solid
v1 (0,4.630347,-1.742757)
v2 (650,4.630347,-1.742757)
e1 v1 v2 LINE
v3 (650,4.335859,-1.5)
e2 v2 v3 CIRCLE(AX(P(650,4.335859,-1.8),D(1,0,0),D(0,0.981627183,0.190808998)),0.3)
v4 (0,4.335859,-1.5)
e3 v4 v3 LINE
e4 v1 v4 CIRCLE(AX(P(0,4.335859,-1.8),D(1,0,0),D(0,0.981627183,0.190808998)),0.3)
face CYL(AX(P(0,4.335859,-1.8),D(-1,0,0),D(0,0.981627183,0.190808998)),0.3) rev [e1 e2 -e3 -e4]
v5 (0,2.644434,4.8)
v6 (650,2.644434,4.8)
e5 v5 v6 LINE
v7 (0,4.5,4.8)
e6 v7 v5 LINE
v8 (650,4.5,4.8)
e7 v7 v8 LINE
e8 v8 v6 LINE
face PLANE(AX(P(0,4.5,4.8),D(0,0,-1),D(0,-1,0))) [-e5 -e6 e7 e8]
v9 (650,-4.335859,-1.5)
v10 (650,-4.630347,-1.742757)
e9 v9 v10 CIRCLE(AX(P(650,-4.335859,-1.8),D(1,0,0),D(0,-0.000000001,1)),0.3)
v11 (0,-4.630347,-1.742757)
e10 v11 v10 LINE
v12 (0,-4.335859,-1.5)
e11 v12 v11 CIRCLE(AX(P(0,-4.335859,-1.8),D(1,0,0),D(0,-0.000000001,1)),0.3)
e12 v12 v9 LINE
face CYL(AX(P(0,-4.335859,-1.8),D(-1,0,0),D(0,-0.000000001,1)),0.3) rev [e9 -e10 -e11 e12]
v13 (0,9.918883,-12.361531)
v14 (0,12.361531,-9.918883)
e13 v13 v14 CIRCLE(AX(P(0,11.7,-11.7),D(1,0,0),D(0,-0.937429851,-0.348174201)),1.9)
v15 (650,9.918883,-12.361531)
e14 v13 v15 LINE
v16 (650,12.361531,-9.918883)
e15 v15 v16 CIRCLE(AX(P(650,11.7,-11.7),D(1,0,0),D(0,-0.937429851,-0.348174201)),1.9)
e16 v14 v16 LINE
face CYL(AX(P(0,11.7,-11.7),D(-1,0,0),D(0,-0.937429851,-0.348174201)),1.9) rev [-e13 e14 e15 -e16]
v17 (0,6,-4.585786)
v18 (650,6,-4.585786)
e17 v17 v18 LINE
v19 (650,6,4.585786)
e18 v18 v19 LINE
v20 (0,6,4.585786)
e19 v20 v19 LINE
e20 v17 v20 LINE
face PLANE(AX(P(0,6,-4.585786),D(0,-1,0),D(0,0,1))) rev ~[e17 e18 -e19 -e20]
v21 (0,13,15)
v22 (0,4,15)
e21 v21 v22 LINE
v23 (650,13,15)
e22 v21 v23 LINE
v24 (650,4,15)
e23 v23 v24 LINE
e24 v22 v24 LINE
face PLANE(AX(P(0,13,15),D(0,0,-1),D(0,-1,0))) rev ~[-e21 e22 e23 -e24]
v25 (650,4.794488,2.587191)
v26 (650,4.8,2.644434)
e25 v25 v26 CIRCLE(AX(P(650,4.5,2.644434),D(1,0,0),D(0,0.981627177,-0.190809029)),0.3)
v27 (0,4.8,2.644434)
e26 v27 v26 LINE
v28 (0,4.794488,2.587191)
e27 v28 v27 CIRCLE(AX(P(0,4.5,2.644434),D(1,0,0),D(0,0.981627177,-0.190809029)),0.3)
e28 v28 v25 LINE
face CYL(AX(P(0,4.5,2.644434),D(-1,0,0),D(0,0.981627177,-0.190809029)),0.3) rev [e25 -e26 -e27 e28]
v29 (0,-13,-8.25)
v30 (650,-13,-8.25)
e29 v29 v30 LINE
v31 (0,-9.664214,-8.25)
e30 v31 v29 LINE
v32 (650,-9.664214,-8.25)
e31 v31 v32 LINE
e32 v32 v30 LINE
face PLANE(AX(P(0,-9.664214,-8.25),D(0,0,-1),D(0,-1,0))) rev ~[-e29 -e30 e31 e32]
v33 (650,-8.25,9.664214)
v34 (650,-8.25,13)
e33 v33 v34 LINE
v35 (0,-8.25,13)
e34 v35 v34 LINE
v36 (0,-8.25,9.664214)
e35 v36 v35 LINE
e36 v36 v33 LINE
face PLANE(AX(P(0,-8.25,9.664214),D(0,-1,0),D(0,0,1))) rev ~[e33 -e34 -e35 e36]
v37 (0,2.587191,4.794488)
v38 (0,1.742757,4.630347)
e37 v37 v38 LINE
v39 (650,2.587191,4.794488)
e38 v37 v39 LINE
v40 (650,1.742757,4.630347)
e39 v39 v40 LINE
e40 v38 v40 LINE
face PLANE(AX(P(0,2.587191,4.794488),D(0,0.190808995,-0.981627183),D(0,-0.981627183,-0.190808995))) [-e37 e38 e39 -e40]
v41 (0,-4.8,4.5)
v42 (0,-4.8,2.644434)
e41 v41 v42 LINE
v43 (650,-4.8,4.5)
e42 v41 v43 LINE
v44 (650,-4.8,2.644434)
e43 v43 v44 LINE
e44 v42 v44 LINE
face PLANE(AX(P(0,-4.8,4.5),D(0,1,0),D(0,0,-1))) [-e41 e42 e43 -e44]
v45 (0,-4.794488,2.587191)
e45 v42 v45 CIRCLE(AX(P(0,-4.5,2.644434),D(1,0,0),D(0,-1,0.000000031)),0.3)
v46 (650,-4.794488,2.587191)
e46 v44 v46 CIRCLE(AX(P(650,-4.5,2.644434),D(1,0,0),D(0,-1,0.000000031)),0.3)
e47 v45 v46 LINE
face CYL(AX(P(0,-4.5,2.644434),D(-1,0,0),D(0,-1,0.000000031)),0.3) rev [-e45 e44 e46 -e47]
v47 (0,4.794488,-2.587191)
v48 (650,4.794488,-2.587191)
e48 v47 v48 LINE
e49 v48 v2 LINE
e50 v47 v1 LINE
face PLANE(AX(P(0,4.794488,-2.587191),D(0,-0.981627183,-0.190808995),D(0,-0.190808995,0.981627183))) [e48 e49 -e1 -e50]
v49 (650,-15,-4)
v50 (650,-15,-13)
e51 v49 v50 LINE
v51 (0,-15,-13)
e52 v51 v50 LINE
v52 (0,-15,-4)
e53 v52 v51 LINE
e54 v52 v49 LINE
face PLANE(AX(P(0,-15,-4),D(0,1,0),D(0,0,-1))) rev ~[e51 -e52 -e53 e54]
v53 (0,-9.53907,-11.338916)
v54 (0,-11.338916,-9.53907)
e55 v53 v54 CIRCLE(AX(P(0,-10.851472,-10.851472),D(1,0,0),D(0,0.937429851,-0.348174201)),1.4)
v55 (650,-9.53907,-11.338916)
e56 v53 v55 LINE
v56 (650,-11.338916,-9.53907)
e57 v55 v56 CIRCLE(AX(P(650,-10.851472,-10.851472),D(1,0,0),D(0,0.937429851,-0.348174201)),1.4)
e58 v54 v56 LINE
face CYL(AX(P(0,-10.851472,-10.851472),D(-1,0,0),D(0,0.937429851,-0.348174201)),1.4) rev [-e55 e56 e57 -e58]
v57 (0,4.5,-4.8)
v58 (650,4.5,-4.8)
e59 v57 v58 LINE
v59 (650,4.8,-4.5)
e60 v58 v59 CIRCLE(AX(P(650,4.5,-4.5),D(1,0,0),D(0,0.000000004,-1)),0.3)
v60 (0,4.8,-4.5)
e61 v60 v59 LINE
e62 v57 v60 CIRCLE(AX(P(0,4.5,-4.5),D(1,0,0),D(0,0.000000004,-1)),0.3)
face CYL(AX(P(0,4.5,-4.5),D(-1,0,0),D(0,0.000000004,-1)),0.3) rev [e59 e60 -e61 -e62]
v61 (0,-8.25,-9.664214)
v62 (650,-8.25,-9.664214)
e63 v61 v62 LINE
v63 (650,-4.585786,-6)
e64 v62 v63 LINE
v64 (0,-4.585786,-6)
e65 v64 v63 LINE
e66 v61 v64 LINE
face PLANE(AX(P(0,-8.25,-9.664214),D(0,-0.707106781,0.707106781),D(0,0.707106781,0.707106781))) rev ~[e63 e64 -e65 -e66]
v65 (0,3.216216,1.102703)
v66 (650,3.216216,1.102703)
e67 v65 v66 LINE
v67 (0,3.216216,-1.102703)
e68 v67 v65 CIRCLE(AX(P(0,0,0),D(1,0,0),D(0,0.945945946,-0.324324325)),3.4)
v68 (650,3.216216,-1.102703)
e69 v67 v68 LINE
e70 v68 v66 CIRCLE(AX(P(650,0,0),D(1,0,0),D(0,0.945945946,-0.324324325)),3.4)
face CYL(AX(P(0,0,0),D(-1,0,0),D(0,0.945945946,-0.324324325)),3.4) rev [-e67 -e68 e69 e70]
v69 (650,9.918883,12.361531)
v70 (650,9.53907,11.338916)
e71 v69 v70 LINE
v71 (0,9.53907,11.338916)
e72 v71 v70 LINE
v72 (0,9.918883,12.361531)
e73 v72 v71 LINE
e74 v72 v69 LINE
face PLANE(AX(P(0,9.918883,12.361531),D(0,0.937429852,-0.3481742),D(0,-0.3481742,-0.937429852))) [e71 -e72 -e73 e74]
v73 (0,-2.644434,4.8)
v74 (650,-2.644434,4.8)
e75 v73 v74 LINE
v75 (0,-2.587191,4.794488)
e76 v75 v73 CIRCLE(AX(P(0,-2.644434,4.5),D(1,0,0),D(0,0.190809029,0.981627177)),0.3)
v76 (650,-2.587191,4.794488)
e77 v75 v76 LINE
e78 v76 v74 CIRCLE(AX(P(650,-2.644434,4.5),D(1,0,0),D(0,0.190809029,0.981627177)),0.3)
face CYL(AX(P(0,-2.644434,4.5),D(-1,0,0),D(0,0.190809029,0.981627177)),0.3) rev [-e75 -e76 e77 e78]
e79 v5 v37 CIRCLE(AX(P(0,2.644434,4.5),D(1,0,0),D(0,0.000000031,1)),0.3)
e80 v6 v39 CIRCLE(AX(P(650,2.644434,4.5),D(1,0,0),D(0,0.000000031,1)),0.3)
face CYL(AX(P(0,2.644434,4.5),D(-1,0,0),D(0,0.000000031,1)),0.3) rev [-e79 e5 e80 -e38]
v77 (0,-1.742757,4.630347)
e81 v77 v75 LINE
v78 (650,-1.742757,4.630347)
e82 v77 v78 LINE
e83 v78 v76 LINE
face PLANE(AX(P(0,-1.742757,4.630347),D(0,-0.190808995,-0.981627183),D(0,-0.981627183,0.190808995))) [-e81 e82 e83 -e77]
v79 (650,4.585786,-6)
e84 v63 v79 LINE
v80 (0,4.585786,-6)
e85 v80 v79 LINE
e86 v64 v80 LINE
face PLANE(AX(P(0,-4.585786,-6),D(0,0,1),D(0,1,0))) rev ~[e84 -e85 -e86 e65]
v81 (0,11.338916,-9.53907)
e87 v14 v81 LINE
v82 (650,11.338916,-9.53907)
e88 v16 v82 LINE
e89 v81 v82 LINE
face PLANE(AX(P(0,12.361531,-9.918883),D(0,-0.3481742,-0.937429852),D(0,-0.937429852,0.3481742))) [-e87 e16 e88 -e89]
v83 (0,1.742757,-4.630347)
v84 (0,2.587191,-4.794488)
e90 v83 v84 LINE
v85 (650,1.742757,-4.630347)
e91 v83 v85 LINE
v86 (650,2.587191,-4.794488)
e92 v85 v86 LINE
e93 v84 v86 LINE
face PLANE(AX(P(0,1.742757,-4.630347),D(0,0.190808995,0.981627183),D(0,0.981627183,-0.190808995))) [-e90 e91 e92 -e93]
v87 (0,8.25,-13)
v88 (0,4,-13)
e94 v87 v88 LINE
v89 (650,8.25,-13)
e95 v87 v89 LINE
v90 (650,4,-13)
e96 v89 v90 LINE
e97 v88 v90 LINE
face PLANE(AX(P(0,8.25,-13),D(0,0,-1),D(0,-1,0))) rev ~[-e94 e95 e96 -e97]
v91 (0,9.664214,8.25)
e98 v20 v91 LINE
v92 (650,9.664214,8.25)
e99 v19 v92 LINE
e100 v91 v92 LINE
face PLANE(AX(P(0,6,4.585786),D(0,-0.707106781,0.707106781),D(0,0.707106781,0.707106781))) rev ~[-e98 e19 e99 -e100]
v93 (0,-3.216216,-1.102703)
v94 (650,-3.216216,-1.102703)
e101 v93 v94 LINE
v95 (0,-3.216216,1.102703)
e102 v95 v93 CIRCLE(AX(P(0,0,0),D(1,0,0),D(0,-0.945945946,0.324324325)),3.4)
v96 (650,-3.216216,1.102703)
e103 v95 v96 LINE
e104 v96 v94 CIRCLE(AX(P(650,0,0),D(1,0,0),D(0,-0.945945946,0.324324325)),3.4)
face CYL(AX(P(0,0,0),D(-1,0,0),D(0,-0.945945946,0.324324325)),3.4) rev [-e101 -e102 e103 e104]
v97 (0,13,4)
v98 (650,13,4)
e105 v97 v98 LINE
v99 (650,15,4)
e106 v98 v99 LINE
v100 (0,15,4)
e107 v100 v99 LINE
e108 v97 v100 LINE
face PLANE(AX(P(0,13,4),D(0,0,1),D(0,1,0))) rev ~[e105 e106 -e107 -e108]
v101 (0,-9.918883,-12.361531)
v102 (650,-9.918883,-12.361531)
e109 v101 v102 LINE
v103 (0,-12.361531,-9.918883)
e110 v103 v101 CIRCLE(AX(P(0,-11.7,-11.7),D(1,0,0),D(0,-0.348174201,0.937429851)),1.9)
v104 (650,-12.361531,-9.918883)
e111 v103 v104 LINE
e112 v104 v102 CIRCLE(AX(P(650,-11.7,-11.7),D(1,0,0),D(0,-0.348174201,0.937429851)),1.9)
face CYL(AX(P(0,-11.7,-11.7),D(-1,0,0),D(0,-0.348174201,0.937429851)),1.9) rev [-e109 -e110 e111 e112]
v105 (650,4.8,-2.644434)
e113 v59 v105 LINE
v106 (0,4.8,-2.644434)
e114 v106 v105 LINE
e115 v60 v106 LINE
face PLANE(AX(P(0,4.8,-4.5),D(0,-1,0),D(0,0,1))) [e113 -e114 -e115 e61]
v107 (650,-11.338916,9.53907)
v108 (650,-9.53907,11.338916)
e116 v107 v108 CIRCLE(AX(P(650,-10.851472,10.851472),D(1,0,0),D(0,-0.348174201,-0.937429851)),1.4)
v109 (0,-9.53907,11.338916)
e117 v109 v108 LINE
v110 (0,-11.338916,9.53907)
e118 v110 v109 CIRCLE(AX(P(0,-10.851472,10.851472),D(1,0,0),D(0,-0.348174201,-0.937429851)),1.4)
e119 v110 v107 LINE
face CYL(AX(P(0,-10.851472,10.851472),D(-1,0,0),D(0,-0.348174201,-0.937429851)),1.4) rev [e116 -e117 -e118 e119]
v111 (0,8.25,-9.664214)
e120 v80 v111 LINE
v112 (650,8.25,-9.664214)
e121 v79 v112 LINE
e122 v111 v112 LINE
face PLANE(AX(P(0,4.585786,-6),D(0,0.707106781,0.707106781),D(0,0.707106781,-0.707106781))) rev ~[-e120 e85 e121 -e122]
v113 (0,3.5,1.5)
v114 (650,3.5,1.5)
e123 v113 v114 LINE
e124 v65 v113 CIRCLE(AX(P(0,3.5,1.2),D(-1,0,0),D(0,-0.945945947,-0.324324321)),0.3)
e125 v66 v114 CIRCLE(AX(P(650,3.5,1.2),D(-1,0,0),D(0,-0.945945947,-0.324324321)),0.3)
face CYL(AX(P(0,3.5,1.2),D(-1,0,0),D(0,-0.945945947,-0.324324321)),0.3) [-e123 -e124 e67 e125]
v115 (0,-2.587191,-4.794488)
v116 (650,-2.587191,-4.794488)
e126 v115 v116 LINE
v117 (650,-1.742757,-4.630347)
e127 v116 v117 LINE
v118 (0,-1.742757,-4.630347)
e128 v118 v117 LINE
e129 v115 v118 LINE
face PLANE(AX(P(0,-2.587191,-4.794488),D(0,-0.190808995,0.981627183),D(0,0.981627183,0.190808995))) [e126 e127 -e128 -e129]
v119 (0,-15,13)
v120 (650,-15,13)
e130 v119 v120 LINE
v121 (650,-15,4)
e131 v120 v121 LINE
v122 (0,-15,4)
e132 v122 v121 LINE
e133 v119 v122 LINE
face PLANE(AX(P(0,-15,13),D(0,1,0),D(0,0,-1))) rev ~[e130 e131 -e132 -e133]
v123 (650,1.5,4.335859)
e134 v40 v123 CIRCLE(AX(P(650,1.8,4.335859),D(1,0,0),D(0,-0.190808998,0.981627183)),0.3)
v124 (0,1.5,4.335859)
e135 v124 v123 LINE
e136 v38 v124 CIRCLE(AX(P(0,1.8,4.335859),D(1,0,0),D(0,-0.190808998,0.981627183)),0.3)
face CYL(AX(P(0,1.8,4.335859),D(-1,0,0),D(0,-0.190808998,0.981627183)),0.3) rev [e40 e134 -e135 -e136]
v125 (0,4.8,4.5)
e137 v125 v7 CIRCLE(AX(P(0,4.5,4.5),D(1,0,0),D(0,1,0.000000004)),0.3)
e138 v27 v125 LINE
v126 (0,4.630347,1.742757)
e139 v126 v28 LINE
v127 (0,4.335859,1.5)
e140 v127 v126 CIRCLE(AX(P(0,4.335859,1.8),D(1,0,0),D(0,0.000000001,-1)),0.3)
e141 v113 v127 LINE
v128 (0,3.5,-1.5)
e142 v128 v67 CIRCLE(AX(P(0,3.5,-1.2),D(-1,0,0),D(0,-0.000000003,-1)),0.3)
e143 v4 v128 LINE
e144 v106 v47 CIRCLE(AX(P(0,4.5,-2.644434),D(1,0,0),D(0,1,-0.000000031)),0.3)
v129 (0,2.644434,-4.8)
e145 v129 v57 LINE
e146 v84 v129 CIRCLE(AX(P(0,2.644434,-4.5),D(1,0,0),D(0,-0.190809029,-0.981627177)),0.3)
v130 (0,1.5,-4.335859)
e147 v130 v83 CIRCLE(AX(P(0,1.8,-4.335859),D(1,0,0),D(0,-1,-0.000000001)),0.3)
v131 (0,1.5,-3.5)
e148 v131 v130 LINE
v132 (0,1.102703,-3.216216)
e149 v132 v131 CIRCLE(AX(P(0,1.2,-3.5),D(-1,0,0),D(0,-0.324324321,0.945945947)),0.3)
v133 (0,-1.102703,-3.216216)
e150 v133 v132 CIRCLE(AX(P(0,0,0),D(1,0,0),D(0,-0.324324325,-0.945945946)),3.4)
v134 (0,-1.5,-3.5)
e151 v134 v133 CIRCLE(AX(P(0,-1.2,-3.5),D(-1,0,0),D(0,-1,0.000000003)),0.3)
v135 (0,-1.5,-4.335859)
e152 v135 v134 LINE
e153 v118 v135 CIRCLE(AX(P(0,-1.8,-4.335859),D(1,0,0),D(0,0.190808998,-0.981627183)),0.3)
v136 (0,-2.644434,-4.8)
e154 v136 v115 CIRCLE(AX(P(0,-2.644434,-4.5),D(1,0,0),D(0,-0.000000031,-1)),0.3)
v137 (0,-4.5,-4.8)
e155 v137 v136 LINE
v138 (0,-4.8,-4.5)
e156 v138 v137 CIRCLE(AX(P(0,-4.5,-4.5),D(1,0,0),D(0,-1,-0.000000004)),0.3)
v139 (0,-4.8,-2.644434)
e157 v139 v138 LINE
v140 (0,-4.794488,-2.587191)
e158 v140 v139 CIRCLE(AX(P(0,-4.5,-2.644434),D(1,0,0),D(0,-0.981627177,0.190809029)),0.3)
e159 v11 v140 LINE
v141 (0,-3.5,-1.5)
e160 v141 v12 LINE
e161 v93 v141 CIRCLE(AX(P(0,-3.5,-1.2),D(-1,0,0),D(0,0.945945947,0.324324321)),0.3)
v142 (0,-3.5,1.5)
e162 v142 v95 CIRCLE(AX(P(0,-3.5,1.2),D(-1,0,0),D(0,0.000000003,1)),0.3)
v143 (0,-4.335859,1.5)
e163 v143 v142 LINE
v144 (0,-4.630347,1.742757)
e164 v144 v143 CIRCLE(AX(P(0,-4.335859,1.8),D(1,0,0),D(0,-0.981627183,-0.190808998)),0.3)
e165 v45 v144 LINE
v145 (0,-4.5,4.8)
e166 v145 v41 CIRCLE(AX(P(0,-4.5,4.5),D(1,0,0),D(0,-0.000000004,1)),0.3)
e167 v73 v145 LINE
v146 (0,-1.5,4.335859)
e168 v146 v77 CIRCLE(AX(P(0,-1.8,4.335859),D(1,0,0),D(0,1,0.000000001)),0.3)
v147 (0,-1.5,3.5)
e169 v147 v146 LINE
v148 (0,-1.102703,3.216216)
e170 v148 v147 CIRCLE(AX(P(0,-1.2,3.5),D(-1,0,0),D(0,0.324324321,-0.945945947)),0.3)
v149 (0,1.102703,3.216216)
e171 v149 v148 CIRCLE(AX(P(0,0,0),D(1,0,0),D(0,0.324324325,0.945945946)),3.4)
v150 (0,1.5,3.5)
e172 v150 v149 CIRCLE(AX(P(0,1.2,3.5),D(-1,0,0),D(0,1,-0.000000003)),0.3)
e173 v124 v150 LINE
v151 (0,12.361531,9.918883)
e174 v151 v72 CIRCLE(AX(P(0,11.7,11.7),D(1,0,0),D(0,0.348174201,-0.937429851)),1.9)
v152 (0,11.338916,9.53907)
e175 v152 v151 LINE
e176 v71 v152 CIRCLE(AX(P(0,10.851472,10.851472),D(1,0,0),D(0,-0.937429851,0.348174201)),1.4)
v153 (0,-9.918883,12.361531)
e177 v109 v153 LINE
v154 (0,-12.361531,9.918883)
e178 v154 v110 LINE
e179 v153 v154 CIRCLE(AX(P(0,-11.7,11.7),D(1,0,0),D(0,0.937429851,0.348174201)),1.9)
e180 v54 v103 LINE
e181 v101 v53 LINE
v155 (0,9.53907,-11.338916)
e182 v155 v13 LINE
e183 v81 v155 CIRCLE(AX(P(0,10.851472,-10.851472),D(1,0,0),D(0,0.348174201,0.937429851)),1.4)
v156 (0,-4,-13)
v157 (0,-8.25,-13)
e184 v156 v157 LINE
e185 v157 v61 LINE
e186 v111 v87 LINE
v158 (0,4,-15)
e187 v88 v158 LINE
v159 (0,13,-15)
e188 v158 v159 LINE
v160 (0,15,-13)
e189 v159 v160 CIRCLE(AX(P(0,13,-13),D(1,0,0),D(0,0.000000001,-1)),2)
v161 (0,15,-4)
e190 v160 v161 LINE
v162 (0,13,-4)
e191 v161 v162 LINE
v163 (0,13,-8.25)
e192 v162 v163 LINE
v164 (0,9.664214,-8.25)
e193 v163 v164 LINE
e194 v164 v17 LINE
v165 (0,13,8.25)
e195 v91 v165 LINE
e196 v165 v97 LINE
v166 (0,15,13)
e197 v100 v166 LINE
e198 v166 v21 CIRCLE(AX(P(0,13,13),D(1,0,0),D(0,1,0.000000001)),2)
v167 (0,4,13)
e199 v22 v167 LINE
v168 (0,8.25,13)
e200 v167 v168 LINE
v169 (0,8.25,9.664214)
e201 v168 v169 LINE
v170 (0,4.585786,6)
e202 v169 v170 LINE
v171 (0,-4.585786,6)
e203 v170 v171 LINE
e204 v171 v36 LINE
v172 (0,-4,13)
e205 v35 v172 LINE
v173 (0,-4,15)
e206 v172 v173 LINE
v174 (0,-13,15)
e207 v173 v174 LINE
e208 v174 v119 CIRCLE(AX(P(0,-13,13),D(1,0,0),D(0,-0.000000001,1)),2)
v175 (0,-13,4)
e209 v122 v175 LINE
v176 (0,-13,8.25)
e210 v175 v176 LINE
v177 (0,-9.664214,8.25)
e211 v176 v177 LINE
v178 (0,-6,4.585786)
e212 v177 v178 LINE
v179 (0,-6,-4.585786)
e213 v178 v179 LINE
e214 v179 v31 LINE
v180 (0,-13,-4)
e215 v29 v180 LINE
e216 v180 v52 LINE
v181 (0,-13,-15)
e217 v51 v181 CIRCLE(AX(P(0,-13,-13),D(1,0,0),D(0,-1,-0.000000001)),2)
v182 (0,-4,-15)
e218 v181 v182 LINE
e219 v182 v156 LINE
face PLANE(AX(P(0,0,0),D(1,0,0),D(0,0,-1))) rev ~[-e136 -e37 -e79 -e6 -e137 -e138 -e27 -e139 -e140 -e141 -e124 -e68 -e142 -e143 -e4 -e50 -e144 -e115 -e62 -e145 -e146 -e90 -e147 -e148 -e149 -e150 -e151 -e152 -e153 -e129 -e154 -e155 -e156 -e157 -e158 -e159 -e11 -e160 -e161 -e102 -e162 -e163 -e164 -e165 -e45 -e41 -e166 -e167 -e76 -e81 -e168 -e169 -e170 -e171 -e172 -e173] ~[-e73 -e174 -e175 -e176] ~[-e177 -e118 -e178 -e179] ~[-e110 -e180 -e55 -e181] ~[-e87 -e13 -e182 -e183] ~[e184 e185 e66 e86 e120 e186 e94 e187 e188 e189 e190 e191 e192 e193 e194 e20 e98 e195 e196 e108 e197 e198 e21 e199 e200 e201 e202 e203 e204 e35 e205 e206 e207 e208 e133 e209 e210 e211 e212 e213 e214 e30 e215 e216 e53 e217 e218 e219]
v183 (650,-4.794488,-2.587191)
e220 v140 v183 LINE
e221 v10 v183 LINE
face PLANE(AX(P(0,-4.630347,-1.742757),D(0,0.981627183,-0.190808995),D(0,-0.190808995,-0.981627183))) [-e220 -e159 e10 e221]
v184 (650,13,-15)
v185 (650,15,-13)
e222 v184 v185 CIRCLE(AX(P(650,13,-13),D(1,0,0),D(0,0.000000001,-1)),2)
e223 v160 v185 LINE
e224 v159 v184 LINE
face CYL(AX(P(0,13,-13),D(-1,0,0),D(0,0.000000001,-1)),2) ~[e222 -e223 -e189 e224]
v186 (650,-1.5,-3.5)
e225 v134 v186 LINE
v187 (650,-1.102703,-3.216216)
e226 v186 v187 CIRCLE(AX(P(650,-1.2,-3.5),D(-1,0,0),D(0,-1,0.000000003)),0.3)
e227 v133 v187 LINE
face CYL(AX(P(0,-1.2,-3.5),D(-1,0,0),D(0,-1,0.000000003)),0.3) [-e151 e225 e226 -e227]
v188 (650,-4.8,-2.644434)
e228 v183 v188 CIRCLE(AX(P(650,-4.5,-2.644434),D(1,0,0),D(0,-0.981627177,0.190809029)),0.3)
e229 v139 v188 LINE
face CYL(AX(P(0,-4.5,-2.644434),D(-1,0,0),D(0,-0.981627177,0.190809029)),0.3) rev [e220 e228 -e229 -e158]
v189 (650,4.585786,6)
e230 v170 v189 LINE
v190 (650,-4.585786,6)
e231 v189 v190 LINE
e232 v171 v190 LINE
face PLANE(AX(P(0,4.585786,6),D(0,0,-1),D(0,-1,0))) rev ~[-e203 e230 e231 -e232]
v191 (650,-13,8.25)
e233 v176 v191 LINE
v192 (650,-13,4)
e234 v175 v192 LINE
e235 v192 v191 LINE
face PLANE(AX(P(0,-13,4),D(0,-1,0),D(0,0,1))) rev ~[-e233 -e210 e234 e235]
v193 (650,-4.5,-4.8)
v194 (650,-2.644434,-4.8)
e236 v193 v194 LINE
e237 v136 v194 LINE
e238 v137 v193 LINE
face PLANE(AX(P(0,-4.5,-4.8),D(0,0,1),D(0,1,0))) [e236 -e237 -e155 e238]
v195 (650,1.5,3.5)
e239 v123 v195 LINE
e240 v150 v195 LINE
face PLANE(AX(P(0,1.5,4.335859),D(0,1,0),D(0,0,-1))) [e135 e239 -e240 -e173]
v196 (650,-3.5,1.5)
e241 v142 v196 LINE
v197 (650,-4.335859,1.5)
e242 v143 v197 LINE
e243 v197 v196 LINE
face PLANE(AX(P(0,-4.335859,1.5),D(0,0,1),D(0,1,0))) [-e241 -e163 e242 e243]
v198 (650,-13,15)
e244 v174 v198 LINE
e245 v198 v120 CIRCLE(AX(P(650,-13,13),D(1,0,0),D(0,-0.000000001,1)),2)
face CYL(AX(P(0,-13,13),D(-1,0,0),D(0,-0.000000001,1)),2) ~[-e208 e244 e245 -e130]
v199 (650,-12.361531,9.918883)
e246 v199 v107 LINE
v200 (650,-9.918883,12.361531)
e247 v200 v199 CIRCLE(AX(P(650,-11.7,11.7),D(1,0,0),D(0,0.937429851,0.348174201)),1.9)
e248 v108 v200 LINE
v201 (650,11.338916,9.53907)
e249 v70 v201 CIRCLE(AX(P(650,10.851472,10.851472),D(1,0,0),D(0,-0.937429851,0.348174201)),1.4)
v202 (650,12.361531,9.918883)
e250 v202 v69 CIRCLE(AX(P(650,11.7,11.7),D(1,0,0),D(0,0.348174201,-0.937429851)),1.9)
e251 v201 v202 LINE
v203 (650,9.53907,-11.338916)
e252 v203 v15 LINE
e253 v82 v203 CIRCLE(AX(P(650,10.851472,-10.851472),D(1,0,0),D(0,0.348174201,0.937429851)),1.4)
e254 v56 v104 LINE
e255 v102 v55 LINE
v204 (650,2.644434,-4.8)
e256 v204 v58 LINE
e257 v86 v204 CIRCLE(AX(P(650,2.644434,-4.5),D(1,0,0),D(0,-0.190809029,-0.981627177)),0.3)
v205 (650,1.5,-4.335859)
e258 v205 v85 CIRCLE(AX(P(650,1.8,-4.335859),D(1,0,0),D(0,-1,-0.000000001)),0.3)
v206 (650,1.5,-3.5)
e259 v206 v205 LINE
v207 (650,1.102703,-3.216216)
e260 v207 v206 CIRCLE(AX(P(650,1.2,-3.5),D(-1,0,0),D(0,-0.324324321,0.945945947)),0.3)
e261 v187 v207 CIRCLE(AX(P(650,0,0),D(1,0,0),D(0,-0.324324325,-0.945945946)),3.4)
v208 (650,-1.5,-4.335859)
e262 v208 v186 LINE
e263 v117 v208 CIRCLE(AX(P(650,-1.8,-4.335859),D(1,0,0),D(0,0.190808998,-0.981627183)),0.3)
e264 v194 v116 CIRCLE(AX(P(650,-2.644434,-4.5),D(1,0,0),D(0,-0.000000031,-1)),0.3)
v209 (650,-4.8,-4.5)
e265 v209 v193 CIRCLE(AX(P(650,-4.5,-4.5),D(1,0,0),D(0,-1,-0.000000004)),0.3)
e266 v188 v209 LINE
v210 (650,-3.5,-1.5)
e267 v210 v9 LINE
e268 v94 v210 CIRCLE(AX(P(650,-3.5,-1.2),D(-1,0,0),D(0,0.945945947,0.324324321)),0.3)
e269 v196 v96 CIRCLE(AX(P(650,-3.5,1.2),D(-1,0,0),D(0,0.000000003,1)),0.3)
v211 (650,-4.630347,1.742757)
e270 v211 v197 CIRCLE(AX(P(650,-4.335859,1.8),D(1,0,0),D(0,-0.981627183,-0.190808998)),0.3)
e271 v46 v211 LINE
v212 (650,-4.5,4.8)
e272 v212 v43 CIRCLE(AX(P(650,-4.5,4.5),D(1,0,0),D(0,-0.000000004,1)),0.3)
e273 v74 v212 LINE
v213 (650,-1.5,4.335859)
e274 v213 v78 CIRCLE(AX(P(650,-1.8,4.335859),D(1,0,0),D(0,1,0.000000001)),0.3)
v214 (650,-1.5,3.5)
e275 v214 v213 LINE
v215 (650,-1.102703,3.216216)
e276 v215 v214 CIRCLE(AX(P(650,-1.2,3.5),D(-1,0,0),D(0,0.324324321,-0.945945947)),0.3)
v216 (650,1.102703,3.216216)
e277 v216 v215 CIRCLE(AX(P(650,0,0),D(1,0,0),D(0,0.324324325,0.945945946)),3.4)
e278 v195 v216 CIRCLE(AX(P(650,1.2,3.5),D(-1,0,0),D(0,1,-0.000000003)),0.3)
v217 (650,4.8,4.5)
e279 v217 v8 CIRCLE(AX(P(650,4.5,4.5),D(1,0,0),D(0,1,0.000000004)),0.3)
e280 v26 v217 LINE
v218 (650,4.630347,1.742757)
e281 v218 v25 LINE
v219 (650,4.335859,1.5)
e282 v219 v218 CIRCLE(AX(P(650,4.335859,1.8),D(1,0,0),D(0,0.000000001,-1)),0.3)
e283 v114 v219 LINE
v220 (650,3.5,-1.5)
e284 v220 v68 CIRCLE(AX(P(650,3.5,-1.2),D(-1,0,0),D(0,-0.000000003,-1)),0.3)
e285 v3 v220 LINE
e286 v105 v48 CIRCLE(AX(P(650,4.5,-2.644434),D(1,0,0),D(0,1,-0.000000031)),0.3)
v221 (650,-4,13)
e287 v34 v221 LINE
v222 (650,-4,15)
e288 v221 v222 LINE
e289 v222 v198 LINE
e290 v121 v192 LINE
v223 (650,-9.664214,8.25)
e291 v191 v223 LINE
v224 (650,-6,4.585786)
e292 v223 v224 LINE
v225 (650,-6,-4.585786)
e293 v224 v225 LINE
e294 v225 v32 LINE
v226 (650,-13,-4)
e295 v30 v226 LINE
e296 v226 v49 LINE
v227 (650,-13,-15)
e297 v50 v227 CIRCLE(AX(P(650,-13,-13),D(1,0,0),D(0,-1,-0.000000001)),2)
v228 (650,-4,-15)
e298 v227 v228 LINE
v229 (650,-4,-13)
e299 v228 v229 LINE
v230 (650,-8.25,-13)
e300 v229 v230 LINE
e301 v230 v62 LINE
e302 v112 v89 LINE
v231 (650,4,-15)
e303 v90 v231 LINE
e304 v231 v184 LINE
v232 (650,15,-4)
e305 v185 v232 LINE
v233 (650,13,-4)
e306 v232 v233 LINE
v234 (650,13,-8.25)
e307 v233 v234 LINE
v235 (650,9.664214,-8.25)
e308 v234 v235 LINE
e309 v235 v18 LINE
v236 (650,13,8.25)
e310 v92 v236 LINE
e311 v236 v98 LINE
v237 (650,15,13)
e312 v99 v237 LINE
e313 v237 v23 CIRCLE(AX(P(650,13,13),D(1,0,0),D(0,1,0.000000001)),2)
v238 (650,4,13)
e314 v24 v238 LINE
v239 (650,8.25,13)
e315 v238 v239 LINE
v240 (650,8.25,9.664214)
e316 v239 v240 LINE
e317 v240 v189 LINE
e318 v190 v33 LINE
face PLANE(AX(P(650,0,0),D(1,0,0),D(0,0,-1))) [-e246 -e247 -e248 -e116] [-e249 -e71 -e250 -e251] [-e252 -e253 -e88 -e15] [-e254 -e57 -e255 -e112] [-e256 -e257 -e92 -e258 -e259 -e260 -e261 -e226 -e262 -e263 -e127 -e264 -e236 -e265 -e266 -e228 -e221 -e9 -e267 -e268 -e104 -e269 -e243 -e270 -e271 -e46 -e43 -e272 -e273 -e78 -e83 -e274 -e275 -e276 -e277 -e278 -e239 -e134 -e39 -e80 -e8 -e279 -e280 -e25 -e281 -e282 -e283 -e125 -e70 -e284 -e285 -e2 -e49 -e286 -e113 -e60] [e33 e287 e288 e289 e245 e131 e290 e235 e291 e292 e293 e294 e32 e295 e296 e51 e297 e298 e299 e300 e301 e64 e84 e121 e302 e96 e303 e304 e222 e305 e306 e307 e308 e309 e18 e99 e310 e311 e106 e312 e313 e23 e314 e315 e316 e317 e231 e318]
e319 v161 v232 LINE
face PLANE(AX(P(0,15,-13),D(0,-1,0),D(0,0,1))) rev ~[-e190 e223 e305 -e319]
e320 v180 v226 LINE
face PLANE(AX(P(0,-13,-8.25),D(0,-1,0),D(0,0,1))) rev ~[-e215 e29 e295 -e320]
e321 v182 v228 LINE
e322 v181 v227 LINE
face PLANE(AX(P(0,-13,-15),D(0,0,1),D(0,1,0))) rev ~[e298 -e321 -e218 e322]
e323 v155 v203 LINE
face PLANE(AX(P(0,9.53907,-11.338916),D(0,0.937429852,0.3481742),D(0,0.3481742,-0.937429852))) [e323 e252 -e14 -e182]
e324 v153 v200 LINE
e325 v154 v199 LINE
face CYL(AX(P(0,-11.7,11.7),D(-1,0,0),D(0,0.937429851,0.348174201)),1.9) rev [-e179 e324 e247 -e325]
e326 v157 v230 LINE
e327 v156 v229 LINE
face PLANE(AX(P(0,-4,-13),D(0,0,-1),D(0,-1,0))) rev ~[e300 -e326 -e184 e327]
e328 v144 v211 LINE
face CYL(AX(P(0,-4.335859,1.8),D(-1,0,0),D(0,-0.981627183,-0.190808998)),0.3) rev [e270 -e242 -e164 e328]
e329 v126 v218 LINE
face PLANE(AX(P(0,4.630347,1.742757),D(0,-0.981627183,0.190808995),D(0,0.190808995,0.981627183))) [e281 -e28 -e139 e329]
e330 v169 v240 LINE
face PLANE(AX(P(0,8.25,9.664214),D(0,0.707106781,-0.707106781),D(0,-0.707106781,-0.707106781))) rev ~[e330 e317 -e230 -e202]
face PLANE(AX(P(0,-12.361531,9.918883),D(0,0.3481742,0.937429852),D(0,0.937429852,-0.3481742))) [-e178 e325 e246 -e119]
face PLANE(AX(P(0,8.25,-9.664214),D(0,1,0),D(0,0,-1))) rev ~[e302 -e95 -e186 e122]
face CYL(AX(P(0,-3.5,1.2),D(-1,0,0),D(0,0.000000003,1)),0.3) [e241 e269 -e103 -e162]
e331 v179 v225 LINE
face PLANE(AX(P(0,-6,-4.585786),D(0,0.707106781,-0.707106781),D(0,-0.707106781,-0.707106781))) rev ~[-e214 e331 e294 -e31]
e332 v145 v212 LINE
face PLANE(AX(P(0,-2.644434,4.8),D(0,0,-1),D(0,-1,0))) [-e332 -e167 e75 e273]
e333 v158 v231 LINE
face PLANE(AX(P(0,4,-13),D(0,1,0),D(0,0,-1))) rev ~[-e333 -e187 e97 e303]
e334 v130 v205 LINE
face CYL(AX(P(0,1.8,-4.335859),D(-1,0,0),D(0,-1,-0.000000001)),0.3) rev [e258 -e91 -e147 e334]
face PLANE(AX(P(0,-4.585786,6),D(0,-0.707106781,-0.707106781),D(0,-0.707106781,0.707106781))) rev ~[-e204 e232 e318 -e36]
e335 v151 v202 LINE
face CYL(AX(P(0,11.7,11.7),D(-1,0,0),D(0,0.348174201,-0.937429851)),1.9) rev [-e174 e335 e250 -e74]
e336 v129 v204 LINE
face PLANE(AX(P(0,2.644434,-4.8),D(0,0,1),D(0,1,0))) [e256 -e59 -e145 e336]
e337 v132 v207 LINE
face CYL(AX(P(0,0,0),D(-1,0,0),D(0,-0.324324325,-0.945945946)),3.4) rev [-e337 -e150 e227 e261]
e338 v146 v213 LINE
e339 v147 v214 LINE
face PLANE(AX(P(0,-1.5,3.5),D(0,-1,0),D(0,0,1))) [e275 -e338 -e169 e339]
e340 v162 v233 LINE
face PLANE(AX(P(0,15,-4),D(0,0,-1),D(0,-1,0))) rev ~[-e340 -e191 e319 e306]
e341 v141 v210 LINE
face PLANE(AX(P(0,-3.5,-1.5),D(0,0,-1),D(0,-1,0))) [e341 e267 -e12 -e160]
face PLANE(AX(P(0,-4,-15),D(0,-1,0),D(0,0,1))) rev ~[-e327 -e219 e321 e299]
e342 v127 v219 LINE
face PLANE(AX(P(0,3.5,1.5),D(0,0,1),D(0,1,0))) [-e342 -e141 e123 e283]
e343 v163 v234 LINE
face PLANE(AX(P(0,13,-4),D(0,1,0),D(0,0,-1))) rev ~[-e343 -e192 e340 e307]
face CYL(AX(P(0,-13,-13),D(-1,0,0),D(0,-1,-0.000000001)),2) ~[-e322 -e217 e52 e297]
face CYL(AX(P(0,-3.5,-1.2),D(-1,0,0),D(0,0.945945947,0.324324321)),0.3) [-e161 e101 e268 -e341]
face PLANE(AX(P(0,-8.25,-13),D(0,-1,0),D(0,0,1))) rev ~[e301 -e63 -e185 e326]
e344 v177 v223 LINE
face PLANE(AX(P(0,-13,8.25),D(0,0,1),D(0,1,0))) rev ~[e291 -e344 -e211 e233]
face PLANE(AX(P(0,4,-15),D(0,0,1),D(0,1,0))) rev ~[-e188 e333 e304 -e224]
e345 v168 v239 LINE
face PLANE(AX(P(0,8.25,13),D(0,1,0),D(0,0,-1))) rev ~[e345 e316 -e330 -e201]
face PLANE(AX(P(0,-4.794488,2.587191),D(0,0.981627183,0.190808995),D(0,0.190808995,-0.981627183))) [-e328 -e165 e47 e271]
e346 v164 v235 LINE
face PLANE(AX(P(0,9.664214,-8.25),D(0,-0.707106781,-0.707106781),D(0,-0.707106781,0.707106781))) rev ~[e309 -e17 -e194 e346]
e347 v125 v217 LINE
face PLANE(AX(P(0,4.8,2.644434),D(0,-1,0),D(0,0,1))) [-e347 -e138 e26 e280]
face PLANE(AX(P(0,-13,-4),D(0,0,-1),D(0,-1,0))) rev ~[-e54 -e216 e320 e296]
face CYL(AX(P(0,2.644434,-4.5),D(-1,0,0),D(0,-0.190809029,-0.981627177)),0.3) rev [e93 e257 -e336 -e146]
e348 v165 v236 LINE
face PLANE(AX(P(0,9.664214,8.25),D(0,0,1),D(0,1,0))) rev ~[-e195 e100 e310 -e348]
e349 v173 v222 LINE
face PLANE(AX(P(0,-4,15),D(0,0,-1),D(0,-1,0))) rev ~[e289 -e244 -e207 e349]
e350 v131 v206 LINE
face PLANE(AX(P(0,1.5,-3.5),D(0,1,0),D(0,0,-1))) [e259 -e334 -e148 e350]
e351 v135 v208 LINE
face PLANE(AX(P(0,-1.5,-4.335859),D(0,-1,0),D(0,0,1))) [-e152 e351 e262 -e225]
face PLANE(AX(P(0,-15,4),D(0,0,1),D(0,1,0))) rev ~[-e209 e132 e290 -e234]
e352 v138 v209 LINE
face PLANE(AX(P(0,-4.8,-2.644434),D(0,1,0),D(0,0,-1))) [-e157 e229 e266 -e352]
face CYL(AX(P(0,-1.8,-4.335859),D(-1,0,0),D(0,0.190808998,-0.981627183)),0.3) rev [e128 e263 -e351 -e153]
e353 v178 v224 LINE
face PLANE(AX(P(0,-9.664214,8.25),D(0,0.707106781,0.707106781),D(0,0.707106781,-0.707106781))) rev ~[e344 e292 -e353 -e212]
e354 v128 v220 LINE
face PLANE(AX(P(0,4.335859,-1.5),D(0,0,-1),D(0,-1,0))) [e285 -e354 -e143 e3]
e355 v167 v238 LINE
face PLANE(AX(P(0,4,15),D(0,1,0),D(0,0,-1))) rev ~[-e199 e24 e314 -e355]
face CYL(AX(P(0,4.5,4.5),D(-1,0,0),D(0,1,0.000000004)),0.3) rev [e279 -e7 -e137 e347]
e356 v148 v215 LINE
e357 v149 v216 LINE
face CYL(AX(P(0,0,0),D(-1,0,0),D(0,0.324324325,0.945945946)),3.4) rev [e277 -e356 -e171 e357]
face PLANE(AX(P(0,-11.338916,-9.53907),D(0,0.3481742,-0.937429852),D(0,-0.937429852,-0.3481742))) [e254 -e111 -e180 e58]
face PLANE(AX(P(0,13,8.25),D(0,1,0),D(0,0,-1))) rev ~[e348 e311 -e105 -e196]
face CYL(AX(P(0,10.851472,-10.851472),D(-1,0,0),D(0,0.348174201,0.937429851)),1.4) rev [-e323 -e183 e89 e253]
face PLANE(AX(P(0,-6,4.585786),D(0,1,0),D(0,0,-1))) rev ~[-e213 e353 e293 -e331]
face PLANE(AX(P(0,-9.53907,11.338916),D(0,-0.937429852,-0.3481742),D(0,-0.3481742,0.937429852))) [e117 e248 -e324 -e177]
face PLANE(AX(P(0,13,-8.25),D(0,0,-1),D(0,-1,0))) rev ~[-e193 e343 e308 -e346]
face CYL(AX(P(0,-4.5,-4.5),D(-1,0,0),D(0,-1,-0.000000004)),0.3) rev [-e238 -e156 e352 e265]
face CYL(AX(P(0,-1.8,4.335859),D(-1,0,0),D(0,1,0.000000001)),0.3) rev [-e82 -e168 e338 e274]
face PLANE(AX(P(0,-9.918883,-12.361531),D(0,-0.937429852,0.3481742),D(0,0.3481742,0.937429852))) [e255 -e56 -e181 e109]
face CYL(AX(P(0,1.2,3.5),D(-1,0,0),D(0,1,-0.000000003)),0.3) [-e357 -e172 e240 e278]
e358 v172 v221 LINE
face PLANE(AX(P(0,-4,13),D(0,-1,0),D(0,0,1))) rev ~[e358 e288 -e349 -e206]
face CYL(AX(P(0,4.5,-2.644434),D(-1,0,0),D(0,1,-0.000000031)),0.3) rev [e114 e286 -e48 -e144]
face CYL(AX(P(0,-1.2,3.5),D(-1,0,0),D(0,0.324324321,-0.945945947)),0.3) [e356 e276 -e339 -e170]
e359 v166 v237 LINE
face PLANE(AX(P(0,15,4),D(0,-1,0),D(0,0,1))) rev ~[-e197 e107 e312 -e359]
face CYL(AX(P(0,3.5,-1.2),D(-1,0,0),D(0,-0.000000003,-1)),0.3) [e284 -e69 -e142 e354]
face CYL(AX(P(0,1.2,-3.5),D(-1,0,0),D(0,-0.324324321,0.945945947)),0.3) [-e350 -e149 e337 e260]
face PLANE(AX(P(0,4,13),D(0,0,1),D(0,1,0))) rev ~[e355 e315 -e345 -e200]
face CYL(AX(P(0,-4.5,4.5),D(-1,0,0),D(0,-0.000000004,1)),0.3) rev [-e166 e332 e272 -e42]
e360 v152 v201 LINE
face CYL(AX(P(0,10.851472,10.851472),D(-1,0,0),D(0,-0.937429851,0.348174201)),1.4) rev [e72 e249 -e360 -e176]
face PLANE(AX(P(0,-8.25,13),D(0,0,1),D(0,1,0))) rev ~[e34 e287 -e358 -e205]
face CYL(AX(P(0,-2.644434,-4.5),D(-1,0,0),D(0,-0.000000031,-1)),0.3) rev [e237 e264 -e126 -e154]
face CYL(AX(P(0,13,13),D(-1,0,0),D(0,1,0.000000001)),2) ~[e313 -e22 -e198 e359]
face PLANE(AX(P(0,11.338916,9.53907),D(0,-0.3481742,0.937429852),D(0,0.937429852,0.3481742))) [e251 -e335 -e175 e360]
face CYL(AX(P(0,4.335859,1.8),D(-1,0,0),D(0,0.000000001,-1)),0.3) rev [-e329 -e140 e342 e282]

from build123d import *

# Parameters (mm, degrees)
BOSS_EXTRUDE1_DEPTH = 650


with BuildPart() as part:
    # Sketch1 → Boss-Extrude1 (new body)
    with BuildSketch(Plane(origin=(0, 0, 0), x_dir=(0, 0, -1), z_dir=(1, 0, 0))):
        with BuildLine():
            Line((-15, 13), (-15, 4))
            Line((-15, 4), (-13, 4))
            Line((-13, 4), (-13, 8.25))
            Line((-13, 8.25), (-9.664213562, 8.25))
            Line((-9.664213562, 8.25), (-6, 4.585786438))
            Line((-6, 4.585786438), (-6, -4.585786438))
            Line((-6, -4.585786438), (-9.664213562, -8.25))
            Line((-9.664213562, -8.25), (-13, -8.25))
            Line((-13, -8.25), (-13, -4))
            Line((-13, -4), (-15, -4))
            Line((-15, -4), (-15, -13))
            ThreePointArc((-15, -13), (-14.414213562, -14.414213562), (-13, -15))
            Line((-13, -15), (-4, -15))
            Line((-4, -15), (-4, -13))
            Line((-4, -13), (-8.25, -13))
            Line((-8.25, -13), (-8.25, -9.664213562))
            Line((-8.25, -9.664213562), (-4.585786438, -6))
            Line((-4.585786438, -6), (4.585786438, -6))
            Line((4.585786438, -6), (8.25, -9.664213562))
            Line((8.25, -9.664213562), (8.25, -13))
            Line((8.25, -13), (4, -13))
            Line((4, -13), (4, -15))
            Line((4, -15), (13, -15))
            ThreePointArc((13, -15), (14.414213562, -14.414213562), (15, -13))
            Line((15, -13), (15, -4))
            Line((15, -4), (13, -4))
            Line((13, -4), (13, -8.25))
            Line((13, -8.25), (9.664213562, -8.25))
            Line((9.664213562, -8.25), (6, -4.585786438))
            Line((6, -4.585786438), (6, 4.585786438))
            Line((6, 4.585786438), (9.664213562, 8.25))
            Line((9.664213562, 8.25), (13, 8.25))
            Line((13, 8.25), (13, 4))
            Line((13, 4), (15, 4))
            Line((15, 4), (15, 13))
            ThreePointArc((15, 13), (14.414213562, 14.414213562), (13, 15))
            Line((13, 15), (4, 15))
            Line((4, 15), (4, 13))
            Line((4, 13), (8.25, 13))
            Line((8.25, 13), (8.25, 9.664213562))
            Line((8.25, 9.664213562), (4.585786438, 6))
            Line((4.585786438, 6), (-4.585786438, 6))
            Line((-4.585786438, 6), (-8.25, 9.664213562))
            Line((-8.25, 9.664213562), (-8.25, 13))
            Line((-8.25, 13), (-4, 13))
            Line((-4, 13), (-4, 15))
            Line((-4, 15), (-13, 15))
            ThreePointArc((-13, 15), (-14.414213562, 14.414213562), (-15, 13))
        make_face()
        with BuildLine():
            Line((-9.539070071, 11.338915743), (-9.918883282, 12.361530981))
            ThreePointArc((-9.918883282, 12.361530981), (-13.043502884, 13.043502884), (-12.361530981, 9.918883282))
            Line((-12.361530981, 9.918883282), (-11.338915743, 9.539070071))
            ThreePointArc((-11.338915743, 9.539070071), (-9.861522369, 9.861522369), (-9.539070071, 11.338915743))
        make_face(mode=Mode.SUBTRACT)
        with BuildLine():
            Line((9.918883282, 12.361530981), (9.539070071, 11.338915743))
            ThreePointArc((9.539070071, 11.338915743), (9.861522369, 9.861522369), (11.338915743, 9.539070071))
            Line((11.338915743, 9.539070071), (12.361530981, 9.918883282))
            ThreePointArc((12.361530981, 9.918883282), (13.043502884, 13.043502884), (9.918883282, 12.361530981))
        make_face(mode=Mode.SUBTRACT)
        with BuildLine():
            Line((12.361530981, -9.918883282), (11.338915743, -9.539070071))
            ThreePointArc((11.338915743, -9.539070071), (9.861522369, -9.861522369), (9.539070071, -11.338915743))
            Line((9.539070071, -11.338915743), (9.918883282, -12.361530981))
            ThreePointArc((9.918883282, -12.361530981), (13.043502884, -13.043502884), (12.361530981, -9.918883282))
        make_face(mode=Mode.SUBTRACT)
        with BuildLine():
            Line((-11.338915743, -9.539070071), (-12.361530981, -9.918883282))
            ThreePointArc((-12.361530981, -9.918883282), (-13.043502884, -13.043502884), (-9.918883282, -12.361530981))
            Line((-9.918883282, -12.361530981), (-9.539070071, -11.338915743))
            ThreePointArc((-9.539070071, -11.338915743), (-9.861522369, -9.861522369), (-11.338915743, -9.539070071))
        make_face(mode=Mode.SUBTRACT)
        with BuildLine():
            Line((-4.8, -2.644433572), (-4.8, -4.5))
            ThreePointArc((-4.8, -4.5), (-4.712132034, -4.712132034), (-4.5, -4.8))
            Line((-4.5, -4.8), (-2.644433572, -4.8))
            ThreePointArc((-2.644433572, -4.8), (-2.615679847, -4.79861886), (-2.587190874, -4.794488155))
            Line((-2.587190874, -4.794488155), (-1.742757301, -4.630346896))
            ThreePointArc((-1.742757301, -4.630346896), (-1.568512625, -4.526682207), (-1.5, -4.335858741))
            Line((-1.5, -4.335858741), (-1.5, -3.5))
            ThreePointArc((-1.5, -3.5), (-1.374371458, -3.255879959), (-1.102702703, -3.216216216))
            ThreePointArc((-1.102702703, -3.216216216), (0, -3.4), (1.102702703, -3.216216216))
            ThreePointArc((1.102702703, -3.216216216), (1.374371458, -3.255879959), (1.5, -3.5))
            Line((1.5, -3.5), (1.5, -4.335858741))
            ThreePointArc((1.5, -4.335858741), (1.568512625, -4.526682207), (1.742757301, -4.630346896))
            Line((1.742757301, -4.630346896), (2.587190874, -4.794488155))
            ThreePointArc((2.587190874, -4.794488155), (2.615679847, -4.79861886), (2.644433572, -4.8))
            Line((2.644433572, -4.8), (4.5, -4.8))
            ThreePointArc((4.5, -4.8), (4.712132034, -4.712132034), (4.8, -4.5))
            Line((4.8, -4.5), (4.8, -2.644433572))
            ThreePointArc((4.8, -2.644433572), (4.79861886, -2.615679847), (4.794488155, -2.587190874))
            Line((4.794488155, -2.587190874), (4.630346896, -1.742757301))
            ThreePointArc((4.630346896, -1.742757301), (4.526682207, -1.568512625), (4.335858741, -1.5))
            Line((4.335858741, -1.5), (3.5, -1.5))
            ThreePointArc((3.5, -1.5), (3.255879959, -1.374371458), (3.216216216, -1.102702703))
            ThreePointArc((3.216216216, -1.102702703), (3.4, 0), (3.216216216, 1.102702703))
            ThreePointArc((3.216216216, 1.102702703), (3.255879959, 1.374371458), (3.5, 1.5))
            Line((3.5, 1.5), (4.335858741, 1.5))
            ThreePointArc((4.335858741, 1.5), (4.526682207, 1.568512625), (4.630346896, 1.742757301))
            Line((4.630346896, 1.742757301), (4.794488155, 2.587190874))
            ThreePointArc((4.794488155, 2.587190874), (4.79861886, 2.615679847), (4.8, 2.644433572))
            Line((4.8, 2.644433572), (4.8, 4.5))
            ThreePointArc((4.8, 4.5), (4.712132034, 4.712132034), (4.5, 4.8))
            Line((4.5, 4.8), (2.644433572, 4.8))
            ThreePointArc((2.644433572, 4.8), (2.615679847, 4.79861886), (2.587190874, 4.794488155))
            Line((2.587190874, 4.794488155), (1.742757301, 4.630346896))
            ThreePointArc((1.742757301, 4.630346896), (1.568512625, 4.526682207), (1.5, 4.335858741))
            Line((1.5, 4.335858741), (1.5, 3.5))
            ThreePointArc((1.5, 3.5), (1.374371458, 3.255879959), (1.102702703, 3.216216216))
            ThreePointArc((1.102702703, 3.216216216), (0, 3.4), (-1.102702703, 3.216216216))
            ThreePointArc((-1.102702703, 3.216216216), (-1.374371458, 3.255879959), (-1.5, 3.5))
            Line((-1.5, 3.5), (-1.5, 4.335858741))
            ThreePointArc((-1.5, 4.335858741), (-1.568512625, 4.526682207), (-1.742757301, 4.630346896))
            Line((-1.742757301, 4.630346896), (-2.587190874, 4.794488155))
            ThreePointArc((-2.587190874, 4.794488155), (-2.615679847, 4.79861886), (-2.644433572, 4.8))
            Line((-2.644433572, 4.8), (-4.5, 4.8))
            ThreePointArc((-4.5, 4.8), (-4.712132034, 4.712132034), (-4.8, 4.5))
            Line((-4.8, 4.5), (-4.8, 2.644433572))
            ThreePointArc((-4.8, 2.644433572), (-4.79861886, 2.615679847), (-4.794488155, 2.587190874))
            Line((-4.794488155, 2.587190874), (-4.630346896, 1.742757301))
            ThreePointArc((-4.630346896, 1.742757301), (-4.526682207, 1.568512625), (-4.335858741, 1.5))
            Line((-4.335858741, 1.5), (-3.5, 1.5))
            ThreePointArc((-3.5, 1.5), (-3.255879959, 1.374371458), (-3.216216216, 1.102702703))
            ThreePointArc((-3.216216216, 1.102702703), (-3.4, 0), (-3.216216216, -1.102702703))
            ThreePointArc((-3.216216216, -1.102702703), (-3.255879959, -1.374371458), (-3.5, -1.5))
            Line((-3.5, -1.5), (-4.335858741, -1.5))
            ThreePointArc((-4.335858741, -1.5), (-4.526682207, -1.568512625), (-4.630346896, -1.742757301))
            Line((-4.630346896, -1.742757301), (-4.794488155, -2.587190874))
            ThreePointArc((-4.794488155, -2.587190874), (-4.79861886, -2.615679847), (-4.8, -2.644433572))
        make_face(mode=Mode.SUBTRACT)
    extrude(amount=BOSS_EXTRUDE1_DEPTH)


solid = part.part
